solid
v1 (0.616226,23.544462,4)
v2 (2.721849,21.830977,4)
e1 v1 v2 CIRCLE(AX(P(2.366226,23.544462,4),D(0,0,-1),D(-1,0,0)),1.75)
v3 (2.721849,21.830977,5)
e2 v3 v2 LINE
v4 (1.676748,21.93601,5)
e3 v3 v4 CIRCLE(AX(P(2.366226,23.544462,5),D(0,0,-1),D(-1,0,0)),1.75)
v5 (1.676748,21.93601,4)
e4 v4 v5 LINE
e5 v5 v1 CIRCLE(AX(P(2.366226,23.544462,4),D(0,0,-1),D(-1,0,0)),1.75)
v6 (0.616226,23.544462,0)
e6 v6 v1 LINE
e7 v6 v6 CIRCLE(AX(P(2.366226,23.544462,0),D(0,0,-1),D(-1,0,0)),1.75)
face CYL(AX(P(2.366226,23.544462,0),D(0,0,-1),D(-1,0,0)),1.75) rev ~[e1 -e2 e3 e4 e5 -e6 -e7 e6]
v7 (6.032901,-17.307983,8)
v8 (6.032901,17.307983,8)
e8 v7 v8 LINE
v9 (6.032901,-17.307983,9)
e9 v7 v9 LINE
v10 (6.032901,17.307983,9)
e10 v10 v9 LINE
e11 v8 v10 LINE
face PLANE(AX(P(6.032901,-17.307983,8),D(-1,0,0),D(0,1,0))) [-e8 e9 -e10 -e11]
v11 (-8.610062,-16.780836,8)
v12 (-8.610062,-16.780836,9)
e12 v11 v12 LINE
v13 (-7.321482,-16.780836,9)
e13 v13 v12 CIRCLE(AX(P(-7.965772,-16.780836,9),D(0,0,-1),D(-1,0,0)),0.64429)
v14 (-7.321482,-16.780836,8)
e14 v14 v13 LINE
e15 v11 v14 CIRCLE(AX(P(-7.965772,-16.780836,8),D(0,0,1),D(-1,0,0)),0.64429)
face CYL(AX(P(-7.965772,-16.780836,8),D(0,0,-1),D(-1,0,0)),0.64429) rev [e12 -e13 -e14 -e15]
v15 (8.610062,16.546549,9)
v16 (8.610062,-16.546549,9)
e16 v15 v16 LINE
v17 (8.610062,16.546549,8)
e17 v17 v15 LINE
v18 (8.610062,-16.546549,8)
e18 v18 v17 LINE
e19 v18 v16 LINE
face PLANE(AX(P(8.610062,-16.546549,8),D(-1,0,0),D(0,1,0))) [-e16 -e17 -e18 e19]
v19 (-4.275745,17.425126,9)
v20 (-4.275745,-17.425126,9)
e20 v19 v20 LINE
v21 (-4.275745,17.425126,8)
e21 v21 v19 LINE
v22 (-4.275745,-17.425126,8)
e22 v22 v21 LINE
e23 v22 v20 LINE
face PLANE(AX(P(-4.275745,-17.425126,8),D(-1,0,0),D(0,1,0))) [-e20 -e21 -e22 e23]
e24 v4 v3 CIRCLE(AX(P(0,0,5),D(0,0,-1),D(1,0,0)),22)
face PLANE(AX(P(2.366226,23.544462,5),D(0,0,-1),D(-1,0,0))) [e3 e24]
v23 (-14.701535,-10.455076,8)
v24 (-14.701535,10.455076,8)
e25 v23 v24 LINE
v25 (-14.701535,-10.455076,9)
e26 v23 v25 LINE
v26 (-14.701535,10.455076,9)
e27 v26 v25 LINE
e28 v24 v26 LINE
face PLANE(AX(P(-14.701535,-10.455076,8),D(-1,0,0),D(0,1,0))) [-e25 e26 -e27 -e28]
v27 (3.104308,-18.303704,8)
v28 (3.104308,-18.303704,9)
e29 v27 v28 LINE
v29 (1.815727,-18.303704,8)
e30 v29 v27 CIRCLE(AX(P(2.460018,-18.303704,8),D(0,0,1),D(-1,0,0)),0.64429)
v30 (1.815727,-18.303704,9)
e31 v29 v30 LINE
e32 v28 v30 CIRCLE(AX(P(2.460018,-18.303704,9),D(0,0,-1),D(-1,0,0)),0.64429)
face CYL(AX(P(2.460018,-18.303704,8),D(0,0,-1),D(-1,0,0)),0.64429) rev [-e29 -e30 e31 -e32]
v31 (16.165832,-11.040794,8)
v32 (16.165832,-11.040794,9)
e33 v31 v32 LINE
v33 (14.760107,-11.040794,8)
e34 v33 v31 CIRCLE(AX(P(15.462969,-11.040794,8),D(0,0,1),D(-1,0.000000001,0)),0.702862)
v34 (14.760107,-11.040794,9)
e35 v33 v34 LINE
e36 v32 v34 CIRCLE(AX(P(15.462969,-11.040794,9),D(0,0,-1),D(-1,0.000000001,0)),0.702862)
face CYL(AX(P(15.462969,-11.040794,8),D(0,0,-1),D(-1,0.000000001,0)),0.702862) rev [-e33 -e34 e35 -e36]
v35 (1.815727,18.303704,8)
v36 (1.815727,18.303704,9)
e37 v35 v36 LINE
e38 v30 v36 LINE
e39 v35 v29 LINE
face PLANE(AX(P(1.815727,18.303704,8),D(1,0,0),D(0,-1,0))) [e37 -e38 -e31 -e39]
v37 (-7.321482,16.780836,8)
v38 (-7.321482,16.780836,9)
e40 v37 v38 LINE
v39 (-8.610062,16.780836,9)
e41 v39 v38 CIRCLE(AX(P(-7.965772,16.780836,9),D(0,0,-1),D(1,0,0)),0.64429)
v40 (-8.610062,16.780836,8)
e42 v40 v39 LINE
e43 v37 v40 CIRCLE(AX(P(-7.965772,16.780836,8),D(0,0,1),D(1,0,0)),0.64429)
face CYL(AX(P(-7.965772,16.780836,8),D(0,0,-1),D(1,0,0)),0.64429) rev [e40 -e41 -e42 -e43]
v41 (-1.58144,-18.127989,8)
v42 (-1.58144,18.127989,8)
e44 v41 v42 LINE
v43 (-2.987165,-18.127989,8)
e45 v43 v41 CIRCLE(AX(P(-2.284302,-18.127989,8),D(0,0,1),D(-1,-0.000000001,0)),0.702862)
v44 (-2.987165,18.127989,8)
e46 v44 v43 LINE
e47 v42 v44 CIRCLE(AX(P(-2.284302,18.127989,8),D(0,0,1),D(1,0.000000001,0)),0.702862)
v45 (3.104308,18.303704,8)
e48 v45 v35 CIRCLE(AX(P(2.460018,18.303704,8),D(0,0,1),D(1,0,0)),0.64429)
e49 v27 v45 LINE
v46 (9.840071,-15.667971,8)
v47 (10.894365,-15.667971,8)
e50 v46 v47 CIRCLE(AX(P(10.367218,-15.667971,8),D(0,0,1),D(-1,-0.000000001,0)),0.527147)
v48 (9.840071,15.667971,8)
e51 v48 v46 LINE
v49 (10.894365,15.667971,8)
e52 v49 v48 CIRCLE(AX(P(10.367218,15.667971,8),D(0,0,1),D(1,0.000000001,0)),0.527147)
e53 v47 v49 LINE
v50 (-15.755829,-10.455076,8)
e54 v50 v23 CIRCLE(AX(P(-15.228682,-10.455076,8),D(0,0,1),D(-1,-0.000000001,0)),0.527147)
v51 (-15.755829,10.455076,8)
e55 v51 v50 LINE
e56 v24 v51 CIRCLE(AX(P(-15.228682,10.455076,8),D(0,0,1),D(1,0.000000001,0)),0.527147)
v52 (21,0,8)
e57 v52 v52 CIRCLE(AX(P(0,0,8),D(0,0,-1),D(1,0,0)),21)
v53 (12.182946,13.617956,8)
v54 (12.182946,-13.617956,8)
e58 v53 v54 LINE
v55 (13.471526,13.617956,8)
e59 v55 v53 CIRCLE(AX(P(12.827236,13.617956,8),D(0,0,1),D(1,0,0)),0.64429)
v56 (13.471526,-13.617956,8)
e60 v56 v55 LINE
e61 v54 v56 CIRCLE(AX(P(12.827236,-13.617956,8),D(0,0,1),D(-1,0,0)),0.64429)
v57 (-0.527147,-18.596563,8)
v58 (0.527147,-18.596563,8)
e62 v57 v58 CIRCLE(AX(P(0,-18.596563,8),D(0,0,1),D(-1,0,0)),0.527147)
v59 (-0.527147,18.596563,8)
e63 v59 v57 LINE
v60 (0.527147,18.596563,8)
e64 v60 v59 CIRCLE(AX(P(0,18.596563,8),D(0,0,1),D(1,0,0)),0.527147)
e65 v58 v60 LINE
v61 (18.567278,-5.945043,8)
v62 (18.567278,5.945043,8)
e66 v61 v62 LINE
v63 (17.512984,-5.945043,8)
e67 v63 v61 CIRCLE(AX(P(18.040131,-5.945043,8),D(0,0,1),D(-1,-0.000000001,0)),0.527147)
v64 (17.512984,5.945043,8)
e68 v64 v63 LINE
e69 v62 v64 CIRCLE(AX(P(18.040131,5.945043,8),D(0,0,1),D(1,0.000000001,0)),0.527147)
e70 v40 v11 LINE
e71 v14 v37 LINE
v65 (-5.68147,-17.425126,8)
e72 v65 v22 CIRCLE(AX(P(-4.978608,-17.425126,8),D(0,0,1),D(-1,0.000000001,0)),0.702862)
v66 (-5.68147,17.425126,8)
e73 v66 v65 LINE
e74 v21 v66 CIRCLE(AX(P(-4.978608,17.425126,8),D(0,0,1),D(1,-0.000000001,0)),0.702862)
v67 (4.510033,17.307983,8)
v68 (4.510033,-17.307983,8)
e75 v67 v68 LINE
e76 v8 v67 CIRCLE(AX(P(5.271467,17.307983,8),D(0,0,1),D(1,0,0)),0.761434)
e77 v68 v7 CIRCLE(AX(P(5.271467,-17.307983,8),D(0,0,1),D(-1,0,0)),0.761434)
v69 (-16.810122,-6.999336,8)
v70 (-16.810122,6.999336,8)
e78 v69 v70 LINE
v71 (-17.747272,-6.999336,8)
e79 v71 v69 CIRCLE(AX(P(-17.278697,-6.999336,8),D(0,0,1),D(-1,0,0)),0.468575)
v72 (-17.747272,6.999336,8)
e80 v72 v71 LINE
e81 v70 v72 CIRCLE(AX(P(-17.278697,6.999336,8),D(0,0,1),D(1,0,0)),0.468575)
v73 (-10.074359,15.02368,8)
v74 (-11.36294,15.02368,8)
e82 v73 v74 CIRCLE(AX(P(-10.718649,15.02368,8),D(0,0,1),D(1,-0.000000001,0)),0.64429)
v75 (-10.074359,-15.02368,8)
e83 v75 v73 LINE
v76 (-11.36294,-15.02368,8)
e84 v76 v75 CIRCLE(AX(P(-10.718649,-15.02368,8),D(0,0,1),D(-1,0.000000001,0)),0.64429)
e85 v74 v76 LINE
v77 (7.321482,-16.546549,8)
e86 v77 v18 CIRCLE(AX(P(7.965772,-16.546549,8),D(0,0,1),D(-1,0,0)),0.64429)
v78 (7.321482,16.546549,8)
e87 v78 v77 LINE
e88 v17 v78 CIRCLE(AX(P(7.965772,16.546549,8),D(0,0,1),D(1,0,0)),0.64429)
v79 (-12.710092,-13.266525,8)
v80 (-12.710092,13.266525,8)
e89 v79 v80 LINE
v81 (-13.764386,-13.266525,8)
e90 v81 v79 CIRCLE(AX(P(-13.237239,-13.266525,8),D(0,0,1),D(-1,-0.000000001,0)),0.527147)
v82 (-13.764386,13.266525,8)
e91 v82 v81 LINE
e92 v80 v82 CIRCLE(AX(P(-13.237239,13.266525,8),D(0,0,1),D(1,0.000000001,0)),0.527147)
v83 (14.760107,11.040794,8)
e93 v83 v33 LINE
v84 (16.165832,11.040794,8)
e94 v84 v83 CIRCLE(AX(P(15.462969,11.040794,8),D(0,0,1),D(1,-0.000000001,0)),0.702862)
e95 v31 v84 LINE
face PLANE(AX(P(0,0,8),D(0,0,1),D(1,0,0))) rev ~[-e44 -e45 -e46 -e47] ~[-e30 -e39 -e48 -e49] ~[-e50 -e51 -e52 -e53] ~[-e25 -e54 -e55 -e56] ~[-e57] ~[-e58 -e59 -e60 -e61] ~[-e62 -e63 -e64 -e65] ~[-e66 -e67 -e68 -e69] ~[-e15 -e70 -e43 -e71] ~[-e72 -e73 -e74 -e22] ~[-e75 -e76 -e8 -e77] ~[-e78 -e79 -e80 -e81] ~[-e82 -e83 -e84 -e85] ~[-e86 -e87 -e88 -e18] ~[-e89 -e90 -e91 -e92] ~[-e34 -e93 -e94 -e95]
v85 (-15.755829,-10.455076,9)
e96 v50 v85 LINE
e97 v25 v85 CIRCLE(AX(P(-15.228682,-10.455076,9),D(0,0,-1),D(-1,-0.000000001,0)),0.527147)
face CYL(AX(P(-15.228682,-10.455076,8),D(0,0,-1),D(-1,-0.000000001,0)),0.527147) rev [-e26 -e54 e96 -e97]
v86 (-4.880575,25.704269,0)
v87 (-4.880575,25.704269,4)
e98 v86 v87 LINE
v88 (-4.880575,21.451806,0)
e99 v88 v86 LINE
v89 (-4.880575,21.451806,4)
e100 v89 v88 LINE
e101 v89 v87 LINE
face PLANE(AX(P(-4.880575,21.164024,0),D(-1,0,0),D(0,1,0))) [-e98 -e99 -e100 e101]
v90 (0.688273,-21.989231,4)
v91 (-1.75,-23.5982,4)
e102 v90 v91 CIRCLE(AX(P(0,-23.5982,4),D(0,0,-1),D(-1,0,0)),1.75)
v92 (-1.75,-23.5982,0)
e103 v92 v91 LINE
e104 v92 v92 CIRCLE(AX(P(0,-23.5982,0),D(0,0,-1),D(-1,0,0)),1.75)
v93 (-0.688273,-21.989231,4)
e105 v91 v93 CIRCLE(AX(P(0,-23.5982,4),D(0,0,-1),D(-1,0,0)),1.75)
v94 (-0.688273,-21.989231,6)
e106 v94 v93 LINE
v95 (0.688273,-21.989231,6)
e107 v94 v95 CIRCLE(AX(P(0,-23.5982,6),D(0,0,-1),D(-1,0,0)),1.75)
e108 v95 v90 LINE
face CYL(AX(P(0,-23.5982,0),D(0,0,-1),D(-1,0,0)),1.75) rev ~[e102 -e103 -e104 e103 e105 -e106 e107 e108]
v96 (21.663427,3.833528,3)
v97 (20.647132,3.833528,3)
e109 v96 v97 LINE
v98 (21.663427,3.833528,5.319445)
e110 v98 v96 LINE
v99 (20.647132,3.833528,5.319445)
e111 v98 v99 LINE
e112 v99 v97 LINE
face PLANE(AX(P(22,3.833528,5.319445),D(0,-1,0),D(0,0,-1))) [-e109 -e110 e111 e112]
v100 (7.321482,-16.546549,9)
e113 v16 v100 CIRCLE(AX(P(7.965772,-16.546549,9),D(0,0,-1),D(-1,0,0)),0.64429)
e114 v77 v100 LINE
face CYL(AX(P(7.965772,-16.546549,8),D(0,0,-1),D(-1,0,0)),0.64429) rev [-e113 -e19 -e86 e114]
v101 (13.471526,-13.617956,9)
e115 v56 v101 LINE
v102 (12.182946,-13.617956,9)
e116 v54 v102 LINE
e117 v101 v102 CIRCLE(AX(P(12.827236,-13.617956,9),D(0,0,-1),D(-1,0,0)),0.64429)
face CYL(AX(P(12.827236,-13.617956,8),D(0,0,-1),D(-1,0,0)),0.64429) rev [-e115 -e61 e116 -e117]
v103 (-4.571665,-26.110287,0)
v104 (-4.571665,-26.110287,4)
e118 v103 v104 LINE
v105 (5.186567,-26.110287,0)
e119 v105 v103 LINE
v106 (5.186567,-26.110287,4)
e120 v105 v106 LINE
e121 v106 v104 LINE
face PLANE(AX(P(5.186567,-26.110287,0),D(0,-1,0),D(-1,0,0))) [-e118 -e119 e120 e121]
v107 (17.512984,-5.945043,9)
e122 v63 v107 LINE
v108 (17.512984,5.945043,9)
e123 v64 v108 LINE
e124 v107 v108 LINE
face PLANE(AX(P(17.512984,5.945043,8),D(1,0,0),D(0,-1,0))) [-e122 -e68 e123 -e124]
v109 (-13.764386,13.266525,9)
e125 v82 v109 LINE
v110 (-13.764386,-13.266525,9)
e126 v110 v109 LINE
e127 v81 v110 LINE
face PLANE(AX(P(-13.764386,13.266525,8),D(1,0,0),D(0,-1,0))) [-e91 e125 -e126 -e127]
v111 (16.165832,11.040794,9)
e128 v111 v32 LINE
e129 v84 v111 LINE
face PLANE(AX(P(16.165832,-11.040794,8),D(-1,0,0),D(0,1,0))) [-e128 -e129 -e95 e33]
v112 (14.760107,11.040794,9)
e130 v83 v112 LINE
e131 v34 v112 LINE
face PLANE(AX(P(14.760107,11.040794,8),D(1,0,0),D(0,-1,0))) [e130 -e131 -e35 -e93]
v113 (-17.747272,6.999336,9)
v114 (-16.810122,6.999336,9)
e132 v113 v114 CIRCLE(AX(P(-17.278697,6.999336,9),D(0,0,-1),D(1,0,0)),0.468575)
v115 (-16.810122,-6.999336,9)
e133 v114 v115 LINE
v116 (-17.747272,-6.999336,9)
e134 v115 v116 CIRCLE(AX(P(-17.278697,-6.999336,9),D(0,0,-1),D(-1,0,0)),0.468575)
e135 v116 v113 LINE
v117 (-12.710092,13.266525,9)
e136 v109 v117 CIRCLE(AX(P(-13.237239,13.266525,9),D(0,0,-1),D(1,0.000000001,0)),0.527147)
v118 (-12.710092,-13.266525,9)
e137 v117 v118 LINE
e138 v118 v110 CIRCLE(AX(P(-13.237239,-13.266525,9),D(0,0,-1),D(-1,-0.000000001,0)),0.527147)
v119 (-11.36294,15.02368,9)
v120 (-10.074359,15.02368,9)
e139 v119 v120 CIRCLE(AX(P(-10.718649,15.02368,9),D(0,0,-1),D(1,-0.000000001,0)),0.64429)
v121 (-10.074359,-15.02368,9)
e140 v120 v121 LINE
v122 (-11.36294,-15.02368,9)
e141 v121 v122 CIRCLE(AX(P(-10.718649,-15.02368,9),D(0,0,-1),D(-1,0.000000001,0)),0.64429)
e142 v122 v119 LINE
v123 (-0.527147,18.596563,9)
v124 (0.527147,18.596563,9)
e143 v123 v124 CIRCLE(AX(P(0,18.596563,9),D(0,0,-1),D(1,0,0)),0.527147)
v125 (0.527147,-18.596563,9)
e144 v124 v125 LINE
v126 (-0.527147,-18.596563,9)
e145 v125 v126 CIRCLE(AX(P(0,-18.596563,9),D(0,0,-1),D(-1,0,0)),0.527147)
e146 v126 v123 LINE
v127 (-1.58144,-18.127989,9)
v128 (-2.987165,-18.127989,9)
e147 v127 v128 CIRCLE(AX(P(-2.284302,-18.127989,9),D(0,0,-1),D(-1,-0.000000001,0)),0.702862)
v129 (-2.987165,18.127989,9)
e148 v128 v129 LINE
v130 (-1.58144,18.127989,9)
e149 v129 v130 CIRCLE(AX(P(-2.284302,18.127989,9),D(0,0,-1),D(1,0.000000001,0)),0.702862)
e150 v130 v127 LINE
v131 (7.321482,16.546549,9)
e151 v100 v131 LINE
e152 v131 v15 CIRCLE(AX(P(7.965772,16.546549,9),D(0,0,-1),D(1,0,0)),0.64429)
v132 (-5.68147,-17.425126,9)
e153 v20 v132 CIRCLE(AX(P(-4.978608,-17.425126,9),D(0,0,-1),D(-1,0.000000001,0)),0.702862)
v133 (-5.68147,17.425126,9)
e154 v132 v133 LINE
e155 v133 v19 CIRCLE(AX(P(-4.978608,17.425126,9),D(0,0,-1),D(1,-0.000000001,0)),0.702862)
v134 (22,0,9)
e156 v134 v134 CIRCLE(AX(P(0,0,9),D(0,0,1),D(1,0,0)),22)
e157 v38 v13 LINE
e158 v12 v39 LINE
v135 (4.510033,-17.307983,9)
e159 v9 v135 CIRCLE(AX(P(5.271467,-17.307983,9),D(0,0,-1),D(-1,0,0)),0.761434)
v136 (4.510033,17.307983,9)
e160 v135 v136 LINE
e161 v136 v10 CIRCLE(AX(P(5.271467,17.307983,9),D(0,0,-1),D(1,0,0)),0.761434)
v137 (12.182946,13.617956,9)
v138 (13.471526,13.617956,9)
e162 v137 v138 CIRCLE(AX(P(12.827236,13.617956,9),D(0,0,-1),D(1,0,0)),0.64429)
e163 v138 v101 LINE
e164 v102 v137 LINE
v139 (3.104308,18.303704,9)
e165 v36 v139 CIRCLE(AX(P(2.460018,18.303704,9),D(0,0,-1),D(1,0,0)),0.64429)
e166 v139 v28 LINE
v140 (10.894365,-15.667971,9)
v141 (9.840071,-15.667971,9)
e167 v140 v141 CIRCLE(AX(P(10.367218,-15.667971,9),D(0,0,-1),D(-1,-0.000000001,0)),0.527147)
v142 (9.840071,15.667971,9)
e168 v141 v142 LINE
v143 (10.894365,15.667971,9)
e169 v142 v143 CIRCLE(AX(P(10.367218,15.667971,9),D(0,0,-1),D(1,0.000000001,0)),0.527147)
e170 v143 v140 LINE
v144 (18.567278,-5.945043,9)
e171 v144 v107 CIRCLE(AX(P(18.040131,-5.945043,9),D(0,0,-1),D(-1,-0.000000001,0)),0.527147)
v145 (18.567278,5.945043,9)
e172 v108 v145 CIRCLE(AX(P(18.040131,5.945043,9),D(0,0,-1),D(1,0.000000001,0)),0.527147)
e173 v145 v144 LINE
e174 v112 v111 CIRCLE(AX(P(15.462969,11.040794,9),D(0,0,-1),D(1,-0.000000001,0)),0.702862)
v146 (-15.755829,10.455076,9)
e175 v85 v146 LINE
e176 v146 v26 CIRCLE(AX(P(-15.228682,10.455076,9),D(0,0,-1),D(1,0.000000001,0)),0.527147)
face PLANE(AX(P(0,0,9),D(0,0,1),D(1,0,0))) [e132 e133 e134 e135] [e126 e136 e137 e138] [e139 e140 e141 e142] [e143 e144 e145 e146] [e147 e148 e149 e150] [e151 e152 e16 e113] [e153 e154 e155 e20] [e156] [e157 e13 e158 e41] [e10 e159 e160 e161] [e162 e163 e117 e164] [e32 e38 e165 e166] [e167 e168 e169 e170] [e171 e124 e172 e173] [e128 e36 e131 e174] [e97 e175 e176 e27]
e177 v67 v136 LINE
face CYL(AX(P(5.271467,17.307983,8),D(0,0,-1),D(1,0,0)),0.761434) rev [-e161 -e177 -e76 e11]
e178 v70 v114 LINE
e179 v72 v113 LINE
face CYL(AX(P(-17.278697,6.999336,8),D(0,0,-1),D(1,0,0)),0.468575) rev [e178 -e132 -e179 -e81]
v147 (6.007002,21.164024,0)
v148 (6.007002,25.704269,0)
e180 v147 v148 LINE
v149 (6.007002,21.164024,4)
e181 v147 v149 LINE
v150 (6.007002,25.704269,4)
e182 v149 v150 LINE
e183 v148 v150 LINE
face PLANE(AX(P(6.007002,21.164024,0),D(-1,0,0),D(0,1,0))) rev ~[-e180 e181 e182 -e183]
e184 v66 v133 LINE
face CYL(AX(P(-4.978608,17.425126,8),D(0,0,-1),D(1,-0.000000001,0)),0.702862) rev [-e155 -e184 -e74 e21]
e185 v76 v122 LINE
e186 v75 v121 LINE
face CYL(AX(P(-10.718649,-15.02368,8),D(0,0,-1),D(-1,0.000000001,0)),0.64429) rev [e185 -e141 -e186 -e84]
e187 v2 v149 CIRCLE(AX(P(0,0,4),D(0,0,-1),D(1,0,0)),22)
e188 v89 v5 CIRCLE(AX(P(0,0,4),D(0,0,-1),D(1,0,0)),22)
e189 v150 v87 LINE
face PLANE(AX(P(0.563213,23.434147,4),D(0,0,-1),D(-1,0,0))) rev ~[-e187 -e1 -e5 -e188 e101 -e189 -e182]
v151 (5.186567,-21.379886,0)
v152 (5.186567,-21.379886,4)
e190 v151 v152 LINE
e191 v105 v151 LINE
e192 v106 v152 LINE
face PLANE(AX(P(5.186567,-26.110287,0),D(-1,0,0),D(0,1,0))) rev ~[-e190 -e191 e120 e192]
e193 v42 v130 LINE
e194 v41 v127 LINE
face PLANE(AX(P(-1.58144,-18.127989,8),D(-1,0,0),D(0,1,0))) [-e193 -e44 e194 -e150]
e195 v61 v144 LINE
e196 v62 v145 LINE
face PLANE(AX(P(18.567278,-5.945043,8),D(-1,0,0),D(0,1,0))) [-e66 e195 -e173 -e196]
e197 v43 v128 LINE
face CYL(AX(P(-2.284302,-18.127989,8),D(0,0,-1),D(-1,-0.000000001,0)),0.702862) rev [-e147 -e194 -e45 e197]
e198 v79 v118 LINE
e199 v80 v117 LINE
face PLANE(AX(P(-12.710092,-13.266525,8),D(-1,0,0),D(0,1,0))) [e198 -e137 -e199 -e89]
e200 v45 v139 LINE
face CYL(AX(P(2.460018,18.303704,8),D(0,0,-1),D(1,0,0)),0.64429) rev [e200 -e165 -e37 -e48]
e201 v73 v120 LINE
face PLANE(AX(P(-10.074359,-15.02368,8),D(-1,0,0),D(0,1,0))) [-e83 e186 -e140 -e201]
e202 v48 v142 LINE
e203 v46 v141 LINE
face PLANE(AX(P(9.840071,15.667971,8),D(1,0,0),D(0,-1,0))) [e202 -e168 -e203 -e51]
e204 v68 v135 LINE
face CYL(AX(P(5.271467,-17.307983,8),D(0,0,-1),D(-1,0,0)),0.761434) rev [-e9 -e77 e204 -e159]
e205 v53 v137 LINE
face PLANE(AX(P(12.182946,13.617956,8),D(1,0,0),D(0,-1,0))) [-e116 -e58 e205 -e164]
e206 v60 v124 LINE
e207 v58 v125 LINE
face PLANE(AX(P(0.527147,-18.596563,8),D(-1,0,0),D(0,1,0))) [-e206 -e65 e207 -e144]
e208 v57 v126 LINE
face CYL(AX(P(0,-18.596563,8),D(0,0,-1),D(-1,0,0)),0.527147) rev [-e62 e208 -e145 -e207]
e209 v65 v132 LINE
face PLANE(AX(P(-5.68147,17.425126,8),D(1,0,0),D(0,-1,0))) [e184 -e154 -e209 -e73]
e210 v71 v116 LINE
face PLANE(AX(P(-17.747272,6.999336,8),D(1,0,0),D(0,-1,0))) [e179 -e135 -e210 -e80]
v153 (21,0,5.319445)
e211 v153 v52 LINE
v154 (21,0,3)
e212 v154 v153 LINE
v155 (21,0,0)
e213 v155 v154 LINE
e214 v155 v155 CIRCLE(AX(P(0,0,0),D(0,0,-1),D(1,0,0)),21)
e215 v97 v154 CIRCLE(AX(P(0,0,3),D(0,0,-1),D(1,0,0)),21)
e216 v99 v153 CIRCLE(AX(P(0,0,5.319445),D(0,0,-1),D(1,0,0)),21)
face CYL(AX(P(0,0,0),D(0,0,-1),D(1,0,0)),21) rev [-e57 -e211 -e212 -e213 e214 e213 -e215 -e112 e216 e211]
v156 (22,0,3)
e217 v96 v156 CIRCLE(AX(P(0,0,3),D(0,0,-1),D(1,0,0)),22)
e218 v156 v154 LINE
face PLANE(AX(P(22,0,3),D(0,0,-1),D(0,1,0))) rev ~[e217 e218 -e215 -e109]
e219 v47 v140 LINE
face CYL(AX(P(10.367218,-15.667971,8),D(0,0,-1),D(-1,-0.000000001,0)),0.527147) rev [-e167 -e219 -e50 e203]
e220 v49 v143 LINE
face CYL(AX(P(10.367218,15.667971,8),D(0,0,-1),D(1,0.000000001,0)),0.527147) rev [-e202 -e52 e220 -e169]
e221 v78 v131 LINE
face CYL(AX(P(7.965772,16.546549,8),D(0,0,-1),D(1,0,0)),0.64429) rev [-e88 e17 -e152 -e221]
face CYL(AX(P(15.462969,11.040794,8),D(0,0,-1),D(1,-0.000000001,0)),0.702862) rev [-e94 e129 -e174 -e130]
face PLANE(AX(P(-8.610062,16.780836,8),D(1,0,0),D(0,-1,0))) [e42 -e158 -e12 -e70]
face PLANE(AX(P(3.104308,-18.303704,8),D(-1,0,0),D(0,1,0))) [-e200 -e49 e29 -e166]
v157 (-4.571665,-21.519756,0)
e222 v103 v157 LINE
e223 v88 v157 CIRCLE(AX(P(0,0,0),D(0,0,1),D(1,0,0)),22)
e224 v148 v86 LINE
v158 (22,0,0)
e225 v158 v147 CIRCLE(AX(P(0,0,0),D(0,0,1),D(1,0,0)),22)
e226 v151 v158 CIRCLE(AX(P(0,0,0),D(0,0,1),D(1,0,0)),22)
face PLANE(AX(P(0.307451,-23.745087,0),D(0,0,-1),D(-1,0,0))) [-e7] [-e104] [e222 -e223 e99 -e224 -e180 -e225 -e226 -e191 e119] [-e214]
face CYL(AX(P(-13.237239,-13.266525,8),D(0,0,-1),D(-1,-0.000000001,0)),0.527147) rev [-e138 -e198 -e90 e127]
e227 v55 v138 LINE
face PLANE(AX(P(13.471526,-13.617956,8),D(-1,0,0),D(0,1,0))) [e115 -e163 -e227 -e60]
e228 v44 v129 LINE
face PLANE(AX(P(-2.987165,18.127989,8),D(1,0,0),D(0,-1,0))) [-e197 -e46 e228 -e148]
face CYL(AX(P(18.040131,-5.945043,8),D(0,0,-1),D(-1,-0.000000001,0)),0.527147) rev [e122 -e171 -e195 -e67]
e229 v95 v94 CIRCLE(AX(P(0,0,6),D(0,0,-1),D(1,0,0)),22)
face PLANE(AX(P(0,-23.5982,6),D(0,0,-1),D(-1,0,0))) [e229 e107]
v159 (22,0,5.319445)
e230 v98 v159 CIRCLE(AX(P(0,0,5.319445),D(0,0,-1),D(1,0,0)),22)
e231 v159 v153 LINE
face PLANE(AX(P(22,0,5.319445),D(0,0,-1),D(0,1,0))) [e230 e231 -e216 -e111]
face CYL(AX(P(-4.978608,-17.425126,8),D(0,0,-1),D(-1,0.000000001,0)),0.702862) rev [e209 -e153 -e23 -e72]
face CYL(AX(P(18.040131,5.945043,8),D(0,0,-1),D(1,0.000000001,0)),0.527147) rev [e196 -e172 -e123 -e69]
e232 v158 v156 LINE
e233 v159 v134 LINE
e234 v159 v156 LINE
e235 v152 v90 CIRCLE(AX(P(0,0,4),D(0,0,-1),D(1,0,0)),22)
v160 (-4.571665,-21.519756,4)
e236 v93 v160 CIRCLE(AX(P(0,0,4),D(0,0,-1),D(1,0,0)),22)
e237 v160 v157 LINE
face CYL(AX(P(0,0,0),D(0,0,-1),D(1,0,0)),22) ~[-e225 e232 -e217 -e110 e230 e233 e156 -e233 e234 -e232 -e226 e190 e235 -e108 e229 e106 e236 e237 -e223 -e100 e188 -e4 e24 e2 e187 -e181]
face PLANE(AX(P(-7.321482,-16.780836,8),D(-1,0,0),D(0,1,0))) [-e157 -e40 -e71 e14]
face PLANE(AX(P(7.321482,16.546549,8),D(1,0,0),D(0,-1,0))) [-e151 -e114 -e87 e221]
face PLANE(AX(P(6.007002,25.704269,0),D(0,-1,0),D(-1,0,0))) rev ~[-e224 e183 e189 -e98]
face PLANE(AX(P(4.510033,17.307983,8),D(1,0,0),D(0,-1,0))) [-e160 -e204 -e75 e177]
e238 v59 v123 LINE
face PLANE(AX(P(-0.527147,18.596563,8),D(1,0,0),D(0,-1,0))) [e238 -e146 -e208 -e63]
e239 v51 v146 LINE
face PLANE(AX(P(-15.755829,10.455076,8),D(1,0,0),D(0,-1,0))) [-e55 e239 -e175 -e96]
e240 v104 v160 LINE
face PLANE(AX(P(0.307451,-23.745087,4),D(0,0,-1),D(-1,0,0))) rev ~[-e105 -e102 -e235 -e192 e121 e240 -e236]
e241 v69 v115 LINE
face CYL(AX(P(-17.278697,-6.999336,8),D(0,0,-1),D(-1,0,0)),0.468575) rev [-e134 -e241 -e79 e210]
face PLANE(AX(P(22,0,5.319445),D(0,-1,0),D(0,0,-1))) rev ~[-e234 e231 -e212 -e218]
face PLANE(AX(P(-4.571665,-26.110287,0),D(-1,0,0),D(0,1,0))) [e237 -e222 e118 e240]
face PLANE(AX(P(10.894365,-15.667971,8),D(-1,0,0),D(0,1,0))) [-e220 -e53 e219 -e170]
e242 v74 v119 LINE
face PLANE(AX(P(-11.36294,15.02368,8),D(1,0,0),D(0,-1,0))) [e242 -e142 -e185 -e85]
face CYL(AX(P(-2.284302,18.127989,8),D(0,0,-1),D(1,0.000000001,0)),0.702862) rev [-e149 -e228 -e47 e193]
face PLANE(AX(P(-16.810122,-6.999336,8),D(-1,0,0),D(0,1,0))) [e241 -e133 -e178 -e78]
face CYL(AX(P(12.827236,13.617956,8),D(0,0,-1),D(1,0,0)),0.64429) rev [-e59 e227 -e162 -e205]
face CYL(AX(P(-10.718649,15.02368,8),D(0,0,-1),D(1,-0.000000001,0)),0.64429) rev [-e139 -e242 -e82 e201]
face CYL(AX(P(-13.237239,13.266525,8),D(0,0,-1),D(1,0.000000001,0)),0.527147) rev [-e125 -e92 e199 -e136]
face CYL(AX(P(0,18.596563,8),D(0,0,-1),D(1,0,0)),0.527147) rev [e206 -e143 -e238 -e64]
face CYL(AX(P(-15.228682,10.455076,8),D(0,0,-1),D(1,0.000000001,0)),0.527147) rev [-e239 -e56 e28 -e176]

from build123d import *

# Parameters (mm, degrees)
SKETCH1_R           = 22
BOSS_EXTRUDE1_DEPTH = 9
SHELL2_T            = -1
CUT_EXTRUDE1_DEPTH  = 5
CUT_EXTRUDE2_DEPTH  = 5
SKETCH24_W          = 2.319445398
SKETCH24_H          = 3.83352781
CUT_EXTRUDE3_DEPTH  = 5
SKETCH25_W          = 10.887577437
SKETCH25_H          = 4.540244535
BOSS_EXTRUDE2_DEPTH = 4
SKETCH26_R          = 1.75
CUT_EXTRUDE4_DEPTH  = 5
SKETCH27_W          = 9.75823175
SKETCH27_H          = 4.730401218
BOSS_EXTRUDE3_DEPTH = 4
SKETCH28_R          = 1.75
CUT_EXTRUDE5_DEPTH  = 6


with BuildPart() as part:
    # Sketch1 → Boss-Extrude1 (new body)
    with BuildSketch(Plane.XY):
        Circle(SKETCH1_R)
    extrude(amount=BOSS_EXTRUDE1_DEPTH)

    # Shell2
    shell2_openings = [part.faces().sort_by_distance(p)[0] for p in [
        (0, 0, 0),
    ]]
    offset(amount=SHELL2_T, openings=shell2_openings, kind=Kind.INTERSECTION)

    # Sketch23 → Cut-Extrude1 (cut)
    with BuildSketch(Plane(origin=(0, 0, 8), x_dir=(-1, 0, 0), z_dir=(0, 0, -1))):
        with BuildLine():
            Line((-3.104308234, -18.303704212), (-3.104308234, 18.303704212))
            ThreePointArc((-3.104308234, 18.303704212), (-2.460017846, 18.9479946), (-1.815727458, 18.303704212))
            Line((-1.815727458, 18.303704212), (-1.815727458, -18.303704212))
            ThreePointArc((-1.815727458, -18.303704212), (-2.460017846, -18.9479946), (-3.104308234, -18.303704212))
        make_face()
        with BuildLine():
            Line((-6.032900908, -17.307982703), (-6.032900908, 17.307982703))
            ThreePointArc((-6.032900908, 17.307982703), (-5.271466813, 18.069416798), (-4.510032718, 17.307982703))
            Line((-4.510032718, 17.307982703), (-4.510032718, -17.307982703))
            ThreePointArc((-4.510032718, -17.307982703), (-5.271466813, -18.069416798), (-6.032900908, -17.307982703))
        make_face()
        with BuildLine():
            Line((-8.610062461, -16.546548608), (-8.610062461, 16.546548608))
            ThreePointArc((-8.610062461, 16.546548608), (-7.965772073, 17.190838996), (-7.321481685, 16.546548608))
            Line((-7.321481685, 16.546548608), (-7.321481685, -16.546548608))
            ThreePointArc((-7.321481685, -16.546548608), (-7.965772073, -17.190838996), (-8.610062461, -16.546548608))
        make_face()
        with BuildLine():
            Line((-10.894364747, -15.667970806), (-10.894364747, 15.667970806))
            ThreePointArc((-10.894364747, 15.667970806), (-10.367218066, 16.195117487), (-9.840071384, 15.667970806))
            Line((-9.840071384, 15.667970806), (-9.840071384, -15.667970806))
            ThreePointArc((-9.840071384, -15.667970806), (-10.367218066, -16.195117487), (-10.894364747, -15.667970806))
        make_face()
        with BuildLine():
            Line((-13.4715263, -13.617955934), (-13.4715263, 13.617955934))
            ThreePointArc((-13.4715263, 13.617955934), (-12.827235912, 14.262246322), (-12.182945524, 13.617955934))
            Line((-12.182945524, 13.617955934), (-12.182945524, -13.617955934))
            ThreePointArc((-12.182945524, -13.617955934), (-12.827235912, -14.262246322), (-13.4715263, -13.617955934))
        make_face()
        with BuildLine():
            Line((-16.16583156, -11.040794381), (-16.16583156, 11.040794381))
            ThreePointArc((-16.16583156, 11.040794381), (-15.462969318, 11.743656623), (-14.760107077, 11.040794381))
            Line((-14.760107077, 11.040794381), (-14.760107077, -11.040794381))
            ThreePointArc((-14.760107077, -11.040794381), (-15.462969318, -11.743656623), (-16.16583156, -11.040794381))
        make_face()
        with BuildLine():
            Line((-18.567277553, -5.945043128), (-18.567277553, 5.945043128))
            ThreePointArc((-18.567277553, 5.945043128), (-18.040130871, 6.472189809), (-17.51298419, 5.945043128))
            Line((-17.51298419, 5.945043128), (-17.51298419, -5.945043128))
            ThreePointArc((-17.51298419, -5.945043128), (-18.040130871, -6.472189809), (-18.567277553, -5.945043128))
        make_face()
    extrude(amount=-CUT_EXTRUDE1_DEPTH, mode=Mode.SUBTRACT)

    # Sketch22 → Cut-Extrude2 (cut)
    with BuildSketch(Plane(origin=(0, 0, 8), x_dir=(-1, 0, 0), z_dir=(0, 0, -1))):
        with BuildLine():
            Line((-0.527146681, -18.59656348), (-0.527146681, 18.59656348))
            ThreePointArc((-0.527146681, 18.59656348), (0, 19.123710161), (0.527146681, 18.59656348))
            Line((0.527146681, 18.59656348), (0.527146681, -18.59656348))
            ThreePointArc((0.527146681, -18.59656348), (0, -19.123710161), (-0.527146681, -18.59656348))
        make_face()
        with BuildLine():
            Line((1.581440044, -18.127988652), (1.581440044, 18.127988652))
            ThreePointArc((1.581440044, 18.127988652), (2.284302286, 18.830850893), (2.987164527, 18.127988652))
            Line((2.987164527, 18.127988652), (2.987164527, -18.127988652))
            ThreePointArc((2.987164527, -18.127988652), (2.284302286, -18.830850893), (1.581440044, -18.127988652))
        make_face()
        with BuildLine():
            Line((4.275745304, -17.42512641), (4.275745304, 17.42512641))
            ThreePointArc((4.275745304, 17.42512641), (4.978607546, 18.127988652), (5.681469787, 17.42512641))
            Line((5.681469787, 17.42512641), (5.681469787, -17.42512641))
            ThreePointArc((5.681469787, -17.42512641), (4.978607546, -18.127988652), (4.275745304, -17.42512641))
        make_face()
        with BuildLine():
            Line((7.321481685, -16.780836022), (7.321481685, 16.780836022))
            ThreePointArc((7.321481685, 16.780836022), (7.965772073, 17.42512641), (8.610062461, 16.780836022))
            Line((8.610062461, 16.780836022), (8.610062461, -16.780836022))
            ThreePointArc((8.610062461, -16.780836022), (7.965772073, -17.42512641), (7.321481685, -16.780836022))
        make_face()
        with BuildLine():
            Line((10.074358798, -15.023680417), (10.074358798, 15.023680417))
            ThreePointArc((10.074358798, 15.023680417), (10.718649187, 15.667970806), (11.362939575, 15.023680417))
            Line((11.362939575, 15.023680417), (11.362939575, -15.023680417))
            ThreePointArc((11.362939575, -15.023680417), (10.718649187, -15.667970806), (10.074358798, -15.023680417))
        make_face()
        with BuildLine():
            Line((12.710092205, -13.266524813), (12.710092205, 13.266524813))
            ThreePointArc((12.710092205, 13.266524813), (13.237238886, 13.793671494), (13.764385568, 13.266524813))
            Line((13.764385568, 13.266524813), (13.764385568, -13.266524813))
            ThreePointArc((13.764385568, -13.266524813), (13.237238886, -13.793671494), (12.710092205, -13.266524813))
        make_face()
        with BuildLine():
            Line((14.701535223, -10.455075846), (14.701535223, 10.455075846))
            ThreePointArc((14.701535223, 10.455075846), (15.228681905, 10.982222527), (15.755828586, 10.455075846))
            Line((15.755828586, 10.455075846), (15.755828586, -10.455075846))
            ThreePointArc((15.755828586, -10.455075846), (15.228681905, -10.982222527), (14.701535223, -10.455075846))
        make_face()
        with BuildLine():
            Line((16.810121948, -6.999336491), (16.810121948, 6.999336491))
            ThreePointArc((16.810121948, 6.999336491), (17.278696776, 7.467911319), (17.747271604, 6.999336491))
            Line((17.747271604, 6.999336491), (17.747271604, -6.999336491))
            ThreePointArc((17.747271604, -6.999336491), (17.278696776, -7.467911319), (16.810121948, -6.999336491))
        make_face()
    extrude(amount=-CUT_EXTRUDE2_DEPTH, mode=Mode.SUBTRACT)

    # Sketch24 → Cut-Extrude3 (cut)
    with BuildSketch(Plane(origin=(22, 0, 0), x_dir=(0, 0, -1), z_dir=(1, 0, 0))):
        with Locations((-4.159722699, 1.916763905)):
            Rectangle(SKETCH24_W, SKETCH24_H)
    extrude(amount=-CUT_EXTRUDE3_DEPTH, mode=Mode.SUBTRACT)

    # Sketch25 → Boss-Extrude2 (add)
    with BuildSketch(Plane(origin=(0, 0, 0), x_dir=(-1, 0, 0), z_dir=(0, 0, -1))):
        with Locations((-0.56321323, 23.434146639)):
            Rectangle(SKETCH25_W, SKETCH25_H)
    extrude(amount=-BOSS_EXTRUDE2_DEPTH)

    # Sketch26 → Cut-Extrude4 (cut)
    with BuildSketch(Plane(origin=(0, 0, 0), x_dir=(-1, 0, 0), z_dir=(0, 0, -1))):
        with Locations((-2.366226378, 23.54446207)):
            Circle(SKETCH26_R)
    extrude(amount=-CUT_EXTRUDE4_DEPTH, mode=Mode.SUBTRACT)

    # Sketch27 → Boss-Extrude3 (add)
    with BuildSketch(Plane(origin=(0, 0, 0), x_dir=(-1, 0, 0), z_dir=(0, 0, -1))):
        with Locations((-0.307450986, -23.745086582)):
            Rectangle(SKETCH27_W, SKETCH27_H)
    extrude(amount=-BOSS_EXTRUDE3_DEPTH)

    # Sketch28 → Cut-Extrude5 (cut)
    with BuildSketch(Plane(origin=(0, 0, 0), x_dir=(-1, 0, 0), z_dir=(0, 0, -1))):
        with Locations((0, -23.598199513)):
            Circle(SKETCH28_R)
    extrude(amount=-CUT_EXTRUDE5_DEPTH, mode=Mode.SUBTRACT)


solid = part.part
